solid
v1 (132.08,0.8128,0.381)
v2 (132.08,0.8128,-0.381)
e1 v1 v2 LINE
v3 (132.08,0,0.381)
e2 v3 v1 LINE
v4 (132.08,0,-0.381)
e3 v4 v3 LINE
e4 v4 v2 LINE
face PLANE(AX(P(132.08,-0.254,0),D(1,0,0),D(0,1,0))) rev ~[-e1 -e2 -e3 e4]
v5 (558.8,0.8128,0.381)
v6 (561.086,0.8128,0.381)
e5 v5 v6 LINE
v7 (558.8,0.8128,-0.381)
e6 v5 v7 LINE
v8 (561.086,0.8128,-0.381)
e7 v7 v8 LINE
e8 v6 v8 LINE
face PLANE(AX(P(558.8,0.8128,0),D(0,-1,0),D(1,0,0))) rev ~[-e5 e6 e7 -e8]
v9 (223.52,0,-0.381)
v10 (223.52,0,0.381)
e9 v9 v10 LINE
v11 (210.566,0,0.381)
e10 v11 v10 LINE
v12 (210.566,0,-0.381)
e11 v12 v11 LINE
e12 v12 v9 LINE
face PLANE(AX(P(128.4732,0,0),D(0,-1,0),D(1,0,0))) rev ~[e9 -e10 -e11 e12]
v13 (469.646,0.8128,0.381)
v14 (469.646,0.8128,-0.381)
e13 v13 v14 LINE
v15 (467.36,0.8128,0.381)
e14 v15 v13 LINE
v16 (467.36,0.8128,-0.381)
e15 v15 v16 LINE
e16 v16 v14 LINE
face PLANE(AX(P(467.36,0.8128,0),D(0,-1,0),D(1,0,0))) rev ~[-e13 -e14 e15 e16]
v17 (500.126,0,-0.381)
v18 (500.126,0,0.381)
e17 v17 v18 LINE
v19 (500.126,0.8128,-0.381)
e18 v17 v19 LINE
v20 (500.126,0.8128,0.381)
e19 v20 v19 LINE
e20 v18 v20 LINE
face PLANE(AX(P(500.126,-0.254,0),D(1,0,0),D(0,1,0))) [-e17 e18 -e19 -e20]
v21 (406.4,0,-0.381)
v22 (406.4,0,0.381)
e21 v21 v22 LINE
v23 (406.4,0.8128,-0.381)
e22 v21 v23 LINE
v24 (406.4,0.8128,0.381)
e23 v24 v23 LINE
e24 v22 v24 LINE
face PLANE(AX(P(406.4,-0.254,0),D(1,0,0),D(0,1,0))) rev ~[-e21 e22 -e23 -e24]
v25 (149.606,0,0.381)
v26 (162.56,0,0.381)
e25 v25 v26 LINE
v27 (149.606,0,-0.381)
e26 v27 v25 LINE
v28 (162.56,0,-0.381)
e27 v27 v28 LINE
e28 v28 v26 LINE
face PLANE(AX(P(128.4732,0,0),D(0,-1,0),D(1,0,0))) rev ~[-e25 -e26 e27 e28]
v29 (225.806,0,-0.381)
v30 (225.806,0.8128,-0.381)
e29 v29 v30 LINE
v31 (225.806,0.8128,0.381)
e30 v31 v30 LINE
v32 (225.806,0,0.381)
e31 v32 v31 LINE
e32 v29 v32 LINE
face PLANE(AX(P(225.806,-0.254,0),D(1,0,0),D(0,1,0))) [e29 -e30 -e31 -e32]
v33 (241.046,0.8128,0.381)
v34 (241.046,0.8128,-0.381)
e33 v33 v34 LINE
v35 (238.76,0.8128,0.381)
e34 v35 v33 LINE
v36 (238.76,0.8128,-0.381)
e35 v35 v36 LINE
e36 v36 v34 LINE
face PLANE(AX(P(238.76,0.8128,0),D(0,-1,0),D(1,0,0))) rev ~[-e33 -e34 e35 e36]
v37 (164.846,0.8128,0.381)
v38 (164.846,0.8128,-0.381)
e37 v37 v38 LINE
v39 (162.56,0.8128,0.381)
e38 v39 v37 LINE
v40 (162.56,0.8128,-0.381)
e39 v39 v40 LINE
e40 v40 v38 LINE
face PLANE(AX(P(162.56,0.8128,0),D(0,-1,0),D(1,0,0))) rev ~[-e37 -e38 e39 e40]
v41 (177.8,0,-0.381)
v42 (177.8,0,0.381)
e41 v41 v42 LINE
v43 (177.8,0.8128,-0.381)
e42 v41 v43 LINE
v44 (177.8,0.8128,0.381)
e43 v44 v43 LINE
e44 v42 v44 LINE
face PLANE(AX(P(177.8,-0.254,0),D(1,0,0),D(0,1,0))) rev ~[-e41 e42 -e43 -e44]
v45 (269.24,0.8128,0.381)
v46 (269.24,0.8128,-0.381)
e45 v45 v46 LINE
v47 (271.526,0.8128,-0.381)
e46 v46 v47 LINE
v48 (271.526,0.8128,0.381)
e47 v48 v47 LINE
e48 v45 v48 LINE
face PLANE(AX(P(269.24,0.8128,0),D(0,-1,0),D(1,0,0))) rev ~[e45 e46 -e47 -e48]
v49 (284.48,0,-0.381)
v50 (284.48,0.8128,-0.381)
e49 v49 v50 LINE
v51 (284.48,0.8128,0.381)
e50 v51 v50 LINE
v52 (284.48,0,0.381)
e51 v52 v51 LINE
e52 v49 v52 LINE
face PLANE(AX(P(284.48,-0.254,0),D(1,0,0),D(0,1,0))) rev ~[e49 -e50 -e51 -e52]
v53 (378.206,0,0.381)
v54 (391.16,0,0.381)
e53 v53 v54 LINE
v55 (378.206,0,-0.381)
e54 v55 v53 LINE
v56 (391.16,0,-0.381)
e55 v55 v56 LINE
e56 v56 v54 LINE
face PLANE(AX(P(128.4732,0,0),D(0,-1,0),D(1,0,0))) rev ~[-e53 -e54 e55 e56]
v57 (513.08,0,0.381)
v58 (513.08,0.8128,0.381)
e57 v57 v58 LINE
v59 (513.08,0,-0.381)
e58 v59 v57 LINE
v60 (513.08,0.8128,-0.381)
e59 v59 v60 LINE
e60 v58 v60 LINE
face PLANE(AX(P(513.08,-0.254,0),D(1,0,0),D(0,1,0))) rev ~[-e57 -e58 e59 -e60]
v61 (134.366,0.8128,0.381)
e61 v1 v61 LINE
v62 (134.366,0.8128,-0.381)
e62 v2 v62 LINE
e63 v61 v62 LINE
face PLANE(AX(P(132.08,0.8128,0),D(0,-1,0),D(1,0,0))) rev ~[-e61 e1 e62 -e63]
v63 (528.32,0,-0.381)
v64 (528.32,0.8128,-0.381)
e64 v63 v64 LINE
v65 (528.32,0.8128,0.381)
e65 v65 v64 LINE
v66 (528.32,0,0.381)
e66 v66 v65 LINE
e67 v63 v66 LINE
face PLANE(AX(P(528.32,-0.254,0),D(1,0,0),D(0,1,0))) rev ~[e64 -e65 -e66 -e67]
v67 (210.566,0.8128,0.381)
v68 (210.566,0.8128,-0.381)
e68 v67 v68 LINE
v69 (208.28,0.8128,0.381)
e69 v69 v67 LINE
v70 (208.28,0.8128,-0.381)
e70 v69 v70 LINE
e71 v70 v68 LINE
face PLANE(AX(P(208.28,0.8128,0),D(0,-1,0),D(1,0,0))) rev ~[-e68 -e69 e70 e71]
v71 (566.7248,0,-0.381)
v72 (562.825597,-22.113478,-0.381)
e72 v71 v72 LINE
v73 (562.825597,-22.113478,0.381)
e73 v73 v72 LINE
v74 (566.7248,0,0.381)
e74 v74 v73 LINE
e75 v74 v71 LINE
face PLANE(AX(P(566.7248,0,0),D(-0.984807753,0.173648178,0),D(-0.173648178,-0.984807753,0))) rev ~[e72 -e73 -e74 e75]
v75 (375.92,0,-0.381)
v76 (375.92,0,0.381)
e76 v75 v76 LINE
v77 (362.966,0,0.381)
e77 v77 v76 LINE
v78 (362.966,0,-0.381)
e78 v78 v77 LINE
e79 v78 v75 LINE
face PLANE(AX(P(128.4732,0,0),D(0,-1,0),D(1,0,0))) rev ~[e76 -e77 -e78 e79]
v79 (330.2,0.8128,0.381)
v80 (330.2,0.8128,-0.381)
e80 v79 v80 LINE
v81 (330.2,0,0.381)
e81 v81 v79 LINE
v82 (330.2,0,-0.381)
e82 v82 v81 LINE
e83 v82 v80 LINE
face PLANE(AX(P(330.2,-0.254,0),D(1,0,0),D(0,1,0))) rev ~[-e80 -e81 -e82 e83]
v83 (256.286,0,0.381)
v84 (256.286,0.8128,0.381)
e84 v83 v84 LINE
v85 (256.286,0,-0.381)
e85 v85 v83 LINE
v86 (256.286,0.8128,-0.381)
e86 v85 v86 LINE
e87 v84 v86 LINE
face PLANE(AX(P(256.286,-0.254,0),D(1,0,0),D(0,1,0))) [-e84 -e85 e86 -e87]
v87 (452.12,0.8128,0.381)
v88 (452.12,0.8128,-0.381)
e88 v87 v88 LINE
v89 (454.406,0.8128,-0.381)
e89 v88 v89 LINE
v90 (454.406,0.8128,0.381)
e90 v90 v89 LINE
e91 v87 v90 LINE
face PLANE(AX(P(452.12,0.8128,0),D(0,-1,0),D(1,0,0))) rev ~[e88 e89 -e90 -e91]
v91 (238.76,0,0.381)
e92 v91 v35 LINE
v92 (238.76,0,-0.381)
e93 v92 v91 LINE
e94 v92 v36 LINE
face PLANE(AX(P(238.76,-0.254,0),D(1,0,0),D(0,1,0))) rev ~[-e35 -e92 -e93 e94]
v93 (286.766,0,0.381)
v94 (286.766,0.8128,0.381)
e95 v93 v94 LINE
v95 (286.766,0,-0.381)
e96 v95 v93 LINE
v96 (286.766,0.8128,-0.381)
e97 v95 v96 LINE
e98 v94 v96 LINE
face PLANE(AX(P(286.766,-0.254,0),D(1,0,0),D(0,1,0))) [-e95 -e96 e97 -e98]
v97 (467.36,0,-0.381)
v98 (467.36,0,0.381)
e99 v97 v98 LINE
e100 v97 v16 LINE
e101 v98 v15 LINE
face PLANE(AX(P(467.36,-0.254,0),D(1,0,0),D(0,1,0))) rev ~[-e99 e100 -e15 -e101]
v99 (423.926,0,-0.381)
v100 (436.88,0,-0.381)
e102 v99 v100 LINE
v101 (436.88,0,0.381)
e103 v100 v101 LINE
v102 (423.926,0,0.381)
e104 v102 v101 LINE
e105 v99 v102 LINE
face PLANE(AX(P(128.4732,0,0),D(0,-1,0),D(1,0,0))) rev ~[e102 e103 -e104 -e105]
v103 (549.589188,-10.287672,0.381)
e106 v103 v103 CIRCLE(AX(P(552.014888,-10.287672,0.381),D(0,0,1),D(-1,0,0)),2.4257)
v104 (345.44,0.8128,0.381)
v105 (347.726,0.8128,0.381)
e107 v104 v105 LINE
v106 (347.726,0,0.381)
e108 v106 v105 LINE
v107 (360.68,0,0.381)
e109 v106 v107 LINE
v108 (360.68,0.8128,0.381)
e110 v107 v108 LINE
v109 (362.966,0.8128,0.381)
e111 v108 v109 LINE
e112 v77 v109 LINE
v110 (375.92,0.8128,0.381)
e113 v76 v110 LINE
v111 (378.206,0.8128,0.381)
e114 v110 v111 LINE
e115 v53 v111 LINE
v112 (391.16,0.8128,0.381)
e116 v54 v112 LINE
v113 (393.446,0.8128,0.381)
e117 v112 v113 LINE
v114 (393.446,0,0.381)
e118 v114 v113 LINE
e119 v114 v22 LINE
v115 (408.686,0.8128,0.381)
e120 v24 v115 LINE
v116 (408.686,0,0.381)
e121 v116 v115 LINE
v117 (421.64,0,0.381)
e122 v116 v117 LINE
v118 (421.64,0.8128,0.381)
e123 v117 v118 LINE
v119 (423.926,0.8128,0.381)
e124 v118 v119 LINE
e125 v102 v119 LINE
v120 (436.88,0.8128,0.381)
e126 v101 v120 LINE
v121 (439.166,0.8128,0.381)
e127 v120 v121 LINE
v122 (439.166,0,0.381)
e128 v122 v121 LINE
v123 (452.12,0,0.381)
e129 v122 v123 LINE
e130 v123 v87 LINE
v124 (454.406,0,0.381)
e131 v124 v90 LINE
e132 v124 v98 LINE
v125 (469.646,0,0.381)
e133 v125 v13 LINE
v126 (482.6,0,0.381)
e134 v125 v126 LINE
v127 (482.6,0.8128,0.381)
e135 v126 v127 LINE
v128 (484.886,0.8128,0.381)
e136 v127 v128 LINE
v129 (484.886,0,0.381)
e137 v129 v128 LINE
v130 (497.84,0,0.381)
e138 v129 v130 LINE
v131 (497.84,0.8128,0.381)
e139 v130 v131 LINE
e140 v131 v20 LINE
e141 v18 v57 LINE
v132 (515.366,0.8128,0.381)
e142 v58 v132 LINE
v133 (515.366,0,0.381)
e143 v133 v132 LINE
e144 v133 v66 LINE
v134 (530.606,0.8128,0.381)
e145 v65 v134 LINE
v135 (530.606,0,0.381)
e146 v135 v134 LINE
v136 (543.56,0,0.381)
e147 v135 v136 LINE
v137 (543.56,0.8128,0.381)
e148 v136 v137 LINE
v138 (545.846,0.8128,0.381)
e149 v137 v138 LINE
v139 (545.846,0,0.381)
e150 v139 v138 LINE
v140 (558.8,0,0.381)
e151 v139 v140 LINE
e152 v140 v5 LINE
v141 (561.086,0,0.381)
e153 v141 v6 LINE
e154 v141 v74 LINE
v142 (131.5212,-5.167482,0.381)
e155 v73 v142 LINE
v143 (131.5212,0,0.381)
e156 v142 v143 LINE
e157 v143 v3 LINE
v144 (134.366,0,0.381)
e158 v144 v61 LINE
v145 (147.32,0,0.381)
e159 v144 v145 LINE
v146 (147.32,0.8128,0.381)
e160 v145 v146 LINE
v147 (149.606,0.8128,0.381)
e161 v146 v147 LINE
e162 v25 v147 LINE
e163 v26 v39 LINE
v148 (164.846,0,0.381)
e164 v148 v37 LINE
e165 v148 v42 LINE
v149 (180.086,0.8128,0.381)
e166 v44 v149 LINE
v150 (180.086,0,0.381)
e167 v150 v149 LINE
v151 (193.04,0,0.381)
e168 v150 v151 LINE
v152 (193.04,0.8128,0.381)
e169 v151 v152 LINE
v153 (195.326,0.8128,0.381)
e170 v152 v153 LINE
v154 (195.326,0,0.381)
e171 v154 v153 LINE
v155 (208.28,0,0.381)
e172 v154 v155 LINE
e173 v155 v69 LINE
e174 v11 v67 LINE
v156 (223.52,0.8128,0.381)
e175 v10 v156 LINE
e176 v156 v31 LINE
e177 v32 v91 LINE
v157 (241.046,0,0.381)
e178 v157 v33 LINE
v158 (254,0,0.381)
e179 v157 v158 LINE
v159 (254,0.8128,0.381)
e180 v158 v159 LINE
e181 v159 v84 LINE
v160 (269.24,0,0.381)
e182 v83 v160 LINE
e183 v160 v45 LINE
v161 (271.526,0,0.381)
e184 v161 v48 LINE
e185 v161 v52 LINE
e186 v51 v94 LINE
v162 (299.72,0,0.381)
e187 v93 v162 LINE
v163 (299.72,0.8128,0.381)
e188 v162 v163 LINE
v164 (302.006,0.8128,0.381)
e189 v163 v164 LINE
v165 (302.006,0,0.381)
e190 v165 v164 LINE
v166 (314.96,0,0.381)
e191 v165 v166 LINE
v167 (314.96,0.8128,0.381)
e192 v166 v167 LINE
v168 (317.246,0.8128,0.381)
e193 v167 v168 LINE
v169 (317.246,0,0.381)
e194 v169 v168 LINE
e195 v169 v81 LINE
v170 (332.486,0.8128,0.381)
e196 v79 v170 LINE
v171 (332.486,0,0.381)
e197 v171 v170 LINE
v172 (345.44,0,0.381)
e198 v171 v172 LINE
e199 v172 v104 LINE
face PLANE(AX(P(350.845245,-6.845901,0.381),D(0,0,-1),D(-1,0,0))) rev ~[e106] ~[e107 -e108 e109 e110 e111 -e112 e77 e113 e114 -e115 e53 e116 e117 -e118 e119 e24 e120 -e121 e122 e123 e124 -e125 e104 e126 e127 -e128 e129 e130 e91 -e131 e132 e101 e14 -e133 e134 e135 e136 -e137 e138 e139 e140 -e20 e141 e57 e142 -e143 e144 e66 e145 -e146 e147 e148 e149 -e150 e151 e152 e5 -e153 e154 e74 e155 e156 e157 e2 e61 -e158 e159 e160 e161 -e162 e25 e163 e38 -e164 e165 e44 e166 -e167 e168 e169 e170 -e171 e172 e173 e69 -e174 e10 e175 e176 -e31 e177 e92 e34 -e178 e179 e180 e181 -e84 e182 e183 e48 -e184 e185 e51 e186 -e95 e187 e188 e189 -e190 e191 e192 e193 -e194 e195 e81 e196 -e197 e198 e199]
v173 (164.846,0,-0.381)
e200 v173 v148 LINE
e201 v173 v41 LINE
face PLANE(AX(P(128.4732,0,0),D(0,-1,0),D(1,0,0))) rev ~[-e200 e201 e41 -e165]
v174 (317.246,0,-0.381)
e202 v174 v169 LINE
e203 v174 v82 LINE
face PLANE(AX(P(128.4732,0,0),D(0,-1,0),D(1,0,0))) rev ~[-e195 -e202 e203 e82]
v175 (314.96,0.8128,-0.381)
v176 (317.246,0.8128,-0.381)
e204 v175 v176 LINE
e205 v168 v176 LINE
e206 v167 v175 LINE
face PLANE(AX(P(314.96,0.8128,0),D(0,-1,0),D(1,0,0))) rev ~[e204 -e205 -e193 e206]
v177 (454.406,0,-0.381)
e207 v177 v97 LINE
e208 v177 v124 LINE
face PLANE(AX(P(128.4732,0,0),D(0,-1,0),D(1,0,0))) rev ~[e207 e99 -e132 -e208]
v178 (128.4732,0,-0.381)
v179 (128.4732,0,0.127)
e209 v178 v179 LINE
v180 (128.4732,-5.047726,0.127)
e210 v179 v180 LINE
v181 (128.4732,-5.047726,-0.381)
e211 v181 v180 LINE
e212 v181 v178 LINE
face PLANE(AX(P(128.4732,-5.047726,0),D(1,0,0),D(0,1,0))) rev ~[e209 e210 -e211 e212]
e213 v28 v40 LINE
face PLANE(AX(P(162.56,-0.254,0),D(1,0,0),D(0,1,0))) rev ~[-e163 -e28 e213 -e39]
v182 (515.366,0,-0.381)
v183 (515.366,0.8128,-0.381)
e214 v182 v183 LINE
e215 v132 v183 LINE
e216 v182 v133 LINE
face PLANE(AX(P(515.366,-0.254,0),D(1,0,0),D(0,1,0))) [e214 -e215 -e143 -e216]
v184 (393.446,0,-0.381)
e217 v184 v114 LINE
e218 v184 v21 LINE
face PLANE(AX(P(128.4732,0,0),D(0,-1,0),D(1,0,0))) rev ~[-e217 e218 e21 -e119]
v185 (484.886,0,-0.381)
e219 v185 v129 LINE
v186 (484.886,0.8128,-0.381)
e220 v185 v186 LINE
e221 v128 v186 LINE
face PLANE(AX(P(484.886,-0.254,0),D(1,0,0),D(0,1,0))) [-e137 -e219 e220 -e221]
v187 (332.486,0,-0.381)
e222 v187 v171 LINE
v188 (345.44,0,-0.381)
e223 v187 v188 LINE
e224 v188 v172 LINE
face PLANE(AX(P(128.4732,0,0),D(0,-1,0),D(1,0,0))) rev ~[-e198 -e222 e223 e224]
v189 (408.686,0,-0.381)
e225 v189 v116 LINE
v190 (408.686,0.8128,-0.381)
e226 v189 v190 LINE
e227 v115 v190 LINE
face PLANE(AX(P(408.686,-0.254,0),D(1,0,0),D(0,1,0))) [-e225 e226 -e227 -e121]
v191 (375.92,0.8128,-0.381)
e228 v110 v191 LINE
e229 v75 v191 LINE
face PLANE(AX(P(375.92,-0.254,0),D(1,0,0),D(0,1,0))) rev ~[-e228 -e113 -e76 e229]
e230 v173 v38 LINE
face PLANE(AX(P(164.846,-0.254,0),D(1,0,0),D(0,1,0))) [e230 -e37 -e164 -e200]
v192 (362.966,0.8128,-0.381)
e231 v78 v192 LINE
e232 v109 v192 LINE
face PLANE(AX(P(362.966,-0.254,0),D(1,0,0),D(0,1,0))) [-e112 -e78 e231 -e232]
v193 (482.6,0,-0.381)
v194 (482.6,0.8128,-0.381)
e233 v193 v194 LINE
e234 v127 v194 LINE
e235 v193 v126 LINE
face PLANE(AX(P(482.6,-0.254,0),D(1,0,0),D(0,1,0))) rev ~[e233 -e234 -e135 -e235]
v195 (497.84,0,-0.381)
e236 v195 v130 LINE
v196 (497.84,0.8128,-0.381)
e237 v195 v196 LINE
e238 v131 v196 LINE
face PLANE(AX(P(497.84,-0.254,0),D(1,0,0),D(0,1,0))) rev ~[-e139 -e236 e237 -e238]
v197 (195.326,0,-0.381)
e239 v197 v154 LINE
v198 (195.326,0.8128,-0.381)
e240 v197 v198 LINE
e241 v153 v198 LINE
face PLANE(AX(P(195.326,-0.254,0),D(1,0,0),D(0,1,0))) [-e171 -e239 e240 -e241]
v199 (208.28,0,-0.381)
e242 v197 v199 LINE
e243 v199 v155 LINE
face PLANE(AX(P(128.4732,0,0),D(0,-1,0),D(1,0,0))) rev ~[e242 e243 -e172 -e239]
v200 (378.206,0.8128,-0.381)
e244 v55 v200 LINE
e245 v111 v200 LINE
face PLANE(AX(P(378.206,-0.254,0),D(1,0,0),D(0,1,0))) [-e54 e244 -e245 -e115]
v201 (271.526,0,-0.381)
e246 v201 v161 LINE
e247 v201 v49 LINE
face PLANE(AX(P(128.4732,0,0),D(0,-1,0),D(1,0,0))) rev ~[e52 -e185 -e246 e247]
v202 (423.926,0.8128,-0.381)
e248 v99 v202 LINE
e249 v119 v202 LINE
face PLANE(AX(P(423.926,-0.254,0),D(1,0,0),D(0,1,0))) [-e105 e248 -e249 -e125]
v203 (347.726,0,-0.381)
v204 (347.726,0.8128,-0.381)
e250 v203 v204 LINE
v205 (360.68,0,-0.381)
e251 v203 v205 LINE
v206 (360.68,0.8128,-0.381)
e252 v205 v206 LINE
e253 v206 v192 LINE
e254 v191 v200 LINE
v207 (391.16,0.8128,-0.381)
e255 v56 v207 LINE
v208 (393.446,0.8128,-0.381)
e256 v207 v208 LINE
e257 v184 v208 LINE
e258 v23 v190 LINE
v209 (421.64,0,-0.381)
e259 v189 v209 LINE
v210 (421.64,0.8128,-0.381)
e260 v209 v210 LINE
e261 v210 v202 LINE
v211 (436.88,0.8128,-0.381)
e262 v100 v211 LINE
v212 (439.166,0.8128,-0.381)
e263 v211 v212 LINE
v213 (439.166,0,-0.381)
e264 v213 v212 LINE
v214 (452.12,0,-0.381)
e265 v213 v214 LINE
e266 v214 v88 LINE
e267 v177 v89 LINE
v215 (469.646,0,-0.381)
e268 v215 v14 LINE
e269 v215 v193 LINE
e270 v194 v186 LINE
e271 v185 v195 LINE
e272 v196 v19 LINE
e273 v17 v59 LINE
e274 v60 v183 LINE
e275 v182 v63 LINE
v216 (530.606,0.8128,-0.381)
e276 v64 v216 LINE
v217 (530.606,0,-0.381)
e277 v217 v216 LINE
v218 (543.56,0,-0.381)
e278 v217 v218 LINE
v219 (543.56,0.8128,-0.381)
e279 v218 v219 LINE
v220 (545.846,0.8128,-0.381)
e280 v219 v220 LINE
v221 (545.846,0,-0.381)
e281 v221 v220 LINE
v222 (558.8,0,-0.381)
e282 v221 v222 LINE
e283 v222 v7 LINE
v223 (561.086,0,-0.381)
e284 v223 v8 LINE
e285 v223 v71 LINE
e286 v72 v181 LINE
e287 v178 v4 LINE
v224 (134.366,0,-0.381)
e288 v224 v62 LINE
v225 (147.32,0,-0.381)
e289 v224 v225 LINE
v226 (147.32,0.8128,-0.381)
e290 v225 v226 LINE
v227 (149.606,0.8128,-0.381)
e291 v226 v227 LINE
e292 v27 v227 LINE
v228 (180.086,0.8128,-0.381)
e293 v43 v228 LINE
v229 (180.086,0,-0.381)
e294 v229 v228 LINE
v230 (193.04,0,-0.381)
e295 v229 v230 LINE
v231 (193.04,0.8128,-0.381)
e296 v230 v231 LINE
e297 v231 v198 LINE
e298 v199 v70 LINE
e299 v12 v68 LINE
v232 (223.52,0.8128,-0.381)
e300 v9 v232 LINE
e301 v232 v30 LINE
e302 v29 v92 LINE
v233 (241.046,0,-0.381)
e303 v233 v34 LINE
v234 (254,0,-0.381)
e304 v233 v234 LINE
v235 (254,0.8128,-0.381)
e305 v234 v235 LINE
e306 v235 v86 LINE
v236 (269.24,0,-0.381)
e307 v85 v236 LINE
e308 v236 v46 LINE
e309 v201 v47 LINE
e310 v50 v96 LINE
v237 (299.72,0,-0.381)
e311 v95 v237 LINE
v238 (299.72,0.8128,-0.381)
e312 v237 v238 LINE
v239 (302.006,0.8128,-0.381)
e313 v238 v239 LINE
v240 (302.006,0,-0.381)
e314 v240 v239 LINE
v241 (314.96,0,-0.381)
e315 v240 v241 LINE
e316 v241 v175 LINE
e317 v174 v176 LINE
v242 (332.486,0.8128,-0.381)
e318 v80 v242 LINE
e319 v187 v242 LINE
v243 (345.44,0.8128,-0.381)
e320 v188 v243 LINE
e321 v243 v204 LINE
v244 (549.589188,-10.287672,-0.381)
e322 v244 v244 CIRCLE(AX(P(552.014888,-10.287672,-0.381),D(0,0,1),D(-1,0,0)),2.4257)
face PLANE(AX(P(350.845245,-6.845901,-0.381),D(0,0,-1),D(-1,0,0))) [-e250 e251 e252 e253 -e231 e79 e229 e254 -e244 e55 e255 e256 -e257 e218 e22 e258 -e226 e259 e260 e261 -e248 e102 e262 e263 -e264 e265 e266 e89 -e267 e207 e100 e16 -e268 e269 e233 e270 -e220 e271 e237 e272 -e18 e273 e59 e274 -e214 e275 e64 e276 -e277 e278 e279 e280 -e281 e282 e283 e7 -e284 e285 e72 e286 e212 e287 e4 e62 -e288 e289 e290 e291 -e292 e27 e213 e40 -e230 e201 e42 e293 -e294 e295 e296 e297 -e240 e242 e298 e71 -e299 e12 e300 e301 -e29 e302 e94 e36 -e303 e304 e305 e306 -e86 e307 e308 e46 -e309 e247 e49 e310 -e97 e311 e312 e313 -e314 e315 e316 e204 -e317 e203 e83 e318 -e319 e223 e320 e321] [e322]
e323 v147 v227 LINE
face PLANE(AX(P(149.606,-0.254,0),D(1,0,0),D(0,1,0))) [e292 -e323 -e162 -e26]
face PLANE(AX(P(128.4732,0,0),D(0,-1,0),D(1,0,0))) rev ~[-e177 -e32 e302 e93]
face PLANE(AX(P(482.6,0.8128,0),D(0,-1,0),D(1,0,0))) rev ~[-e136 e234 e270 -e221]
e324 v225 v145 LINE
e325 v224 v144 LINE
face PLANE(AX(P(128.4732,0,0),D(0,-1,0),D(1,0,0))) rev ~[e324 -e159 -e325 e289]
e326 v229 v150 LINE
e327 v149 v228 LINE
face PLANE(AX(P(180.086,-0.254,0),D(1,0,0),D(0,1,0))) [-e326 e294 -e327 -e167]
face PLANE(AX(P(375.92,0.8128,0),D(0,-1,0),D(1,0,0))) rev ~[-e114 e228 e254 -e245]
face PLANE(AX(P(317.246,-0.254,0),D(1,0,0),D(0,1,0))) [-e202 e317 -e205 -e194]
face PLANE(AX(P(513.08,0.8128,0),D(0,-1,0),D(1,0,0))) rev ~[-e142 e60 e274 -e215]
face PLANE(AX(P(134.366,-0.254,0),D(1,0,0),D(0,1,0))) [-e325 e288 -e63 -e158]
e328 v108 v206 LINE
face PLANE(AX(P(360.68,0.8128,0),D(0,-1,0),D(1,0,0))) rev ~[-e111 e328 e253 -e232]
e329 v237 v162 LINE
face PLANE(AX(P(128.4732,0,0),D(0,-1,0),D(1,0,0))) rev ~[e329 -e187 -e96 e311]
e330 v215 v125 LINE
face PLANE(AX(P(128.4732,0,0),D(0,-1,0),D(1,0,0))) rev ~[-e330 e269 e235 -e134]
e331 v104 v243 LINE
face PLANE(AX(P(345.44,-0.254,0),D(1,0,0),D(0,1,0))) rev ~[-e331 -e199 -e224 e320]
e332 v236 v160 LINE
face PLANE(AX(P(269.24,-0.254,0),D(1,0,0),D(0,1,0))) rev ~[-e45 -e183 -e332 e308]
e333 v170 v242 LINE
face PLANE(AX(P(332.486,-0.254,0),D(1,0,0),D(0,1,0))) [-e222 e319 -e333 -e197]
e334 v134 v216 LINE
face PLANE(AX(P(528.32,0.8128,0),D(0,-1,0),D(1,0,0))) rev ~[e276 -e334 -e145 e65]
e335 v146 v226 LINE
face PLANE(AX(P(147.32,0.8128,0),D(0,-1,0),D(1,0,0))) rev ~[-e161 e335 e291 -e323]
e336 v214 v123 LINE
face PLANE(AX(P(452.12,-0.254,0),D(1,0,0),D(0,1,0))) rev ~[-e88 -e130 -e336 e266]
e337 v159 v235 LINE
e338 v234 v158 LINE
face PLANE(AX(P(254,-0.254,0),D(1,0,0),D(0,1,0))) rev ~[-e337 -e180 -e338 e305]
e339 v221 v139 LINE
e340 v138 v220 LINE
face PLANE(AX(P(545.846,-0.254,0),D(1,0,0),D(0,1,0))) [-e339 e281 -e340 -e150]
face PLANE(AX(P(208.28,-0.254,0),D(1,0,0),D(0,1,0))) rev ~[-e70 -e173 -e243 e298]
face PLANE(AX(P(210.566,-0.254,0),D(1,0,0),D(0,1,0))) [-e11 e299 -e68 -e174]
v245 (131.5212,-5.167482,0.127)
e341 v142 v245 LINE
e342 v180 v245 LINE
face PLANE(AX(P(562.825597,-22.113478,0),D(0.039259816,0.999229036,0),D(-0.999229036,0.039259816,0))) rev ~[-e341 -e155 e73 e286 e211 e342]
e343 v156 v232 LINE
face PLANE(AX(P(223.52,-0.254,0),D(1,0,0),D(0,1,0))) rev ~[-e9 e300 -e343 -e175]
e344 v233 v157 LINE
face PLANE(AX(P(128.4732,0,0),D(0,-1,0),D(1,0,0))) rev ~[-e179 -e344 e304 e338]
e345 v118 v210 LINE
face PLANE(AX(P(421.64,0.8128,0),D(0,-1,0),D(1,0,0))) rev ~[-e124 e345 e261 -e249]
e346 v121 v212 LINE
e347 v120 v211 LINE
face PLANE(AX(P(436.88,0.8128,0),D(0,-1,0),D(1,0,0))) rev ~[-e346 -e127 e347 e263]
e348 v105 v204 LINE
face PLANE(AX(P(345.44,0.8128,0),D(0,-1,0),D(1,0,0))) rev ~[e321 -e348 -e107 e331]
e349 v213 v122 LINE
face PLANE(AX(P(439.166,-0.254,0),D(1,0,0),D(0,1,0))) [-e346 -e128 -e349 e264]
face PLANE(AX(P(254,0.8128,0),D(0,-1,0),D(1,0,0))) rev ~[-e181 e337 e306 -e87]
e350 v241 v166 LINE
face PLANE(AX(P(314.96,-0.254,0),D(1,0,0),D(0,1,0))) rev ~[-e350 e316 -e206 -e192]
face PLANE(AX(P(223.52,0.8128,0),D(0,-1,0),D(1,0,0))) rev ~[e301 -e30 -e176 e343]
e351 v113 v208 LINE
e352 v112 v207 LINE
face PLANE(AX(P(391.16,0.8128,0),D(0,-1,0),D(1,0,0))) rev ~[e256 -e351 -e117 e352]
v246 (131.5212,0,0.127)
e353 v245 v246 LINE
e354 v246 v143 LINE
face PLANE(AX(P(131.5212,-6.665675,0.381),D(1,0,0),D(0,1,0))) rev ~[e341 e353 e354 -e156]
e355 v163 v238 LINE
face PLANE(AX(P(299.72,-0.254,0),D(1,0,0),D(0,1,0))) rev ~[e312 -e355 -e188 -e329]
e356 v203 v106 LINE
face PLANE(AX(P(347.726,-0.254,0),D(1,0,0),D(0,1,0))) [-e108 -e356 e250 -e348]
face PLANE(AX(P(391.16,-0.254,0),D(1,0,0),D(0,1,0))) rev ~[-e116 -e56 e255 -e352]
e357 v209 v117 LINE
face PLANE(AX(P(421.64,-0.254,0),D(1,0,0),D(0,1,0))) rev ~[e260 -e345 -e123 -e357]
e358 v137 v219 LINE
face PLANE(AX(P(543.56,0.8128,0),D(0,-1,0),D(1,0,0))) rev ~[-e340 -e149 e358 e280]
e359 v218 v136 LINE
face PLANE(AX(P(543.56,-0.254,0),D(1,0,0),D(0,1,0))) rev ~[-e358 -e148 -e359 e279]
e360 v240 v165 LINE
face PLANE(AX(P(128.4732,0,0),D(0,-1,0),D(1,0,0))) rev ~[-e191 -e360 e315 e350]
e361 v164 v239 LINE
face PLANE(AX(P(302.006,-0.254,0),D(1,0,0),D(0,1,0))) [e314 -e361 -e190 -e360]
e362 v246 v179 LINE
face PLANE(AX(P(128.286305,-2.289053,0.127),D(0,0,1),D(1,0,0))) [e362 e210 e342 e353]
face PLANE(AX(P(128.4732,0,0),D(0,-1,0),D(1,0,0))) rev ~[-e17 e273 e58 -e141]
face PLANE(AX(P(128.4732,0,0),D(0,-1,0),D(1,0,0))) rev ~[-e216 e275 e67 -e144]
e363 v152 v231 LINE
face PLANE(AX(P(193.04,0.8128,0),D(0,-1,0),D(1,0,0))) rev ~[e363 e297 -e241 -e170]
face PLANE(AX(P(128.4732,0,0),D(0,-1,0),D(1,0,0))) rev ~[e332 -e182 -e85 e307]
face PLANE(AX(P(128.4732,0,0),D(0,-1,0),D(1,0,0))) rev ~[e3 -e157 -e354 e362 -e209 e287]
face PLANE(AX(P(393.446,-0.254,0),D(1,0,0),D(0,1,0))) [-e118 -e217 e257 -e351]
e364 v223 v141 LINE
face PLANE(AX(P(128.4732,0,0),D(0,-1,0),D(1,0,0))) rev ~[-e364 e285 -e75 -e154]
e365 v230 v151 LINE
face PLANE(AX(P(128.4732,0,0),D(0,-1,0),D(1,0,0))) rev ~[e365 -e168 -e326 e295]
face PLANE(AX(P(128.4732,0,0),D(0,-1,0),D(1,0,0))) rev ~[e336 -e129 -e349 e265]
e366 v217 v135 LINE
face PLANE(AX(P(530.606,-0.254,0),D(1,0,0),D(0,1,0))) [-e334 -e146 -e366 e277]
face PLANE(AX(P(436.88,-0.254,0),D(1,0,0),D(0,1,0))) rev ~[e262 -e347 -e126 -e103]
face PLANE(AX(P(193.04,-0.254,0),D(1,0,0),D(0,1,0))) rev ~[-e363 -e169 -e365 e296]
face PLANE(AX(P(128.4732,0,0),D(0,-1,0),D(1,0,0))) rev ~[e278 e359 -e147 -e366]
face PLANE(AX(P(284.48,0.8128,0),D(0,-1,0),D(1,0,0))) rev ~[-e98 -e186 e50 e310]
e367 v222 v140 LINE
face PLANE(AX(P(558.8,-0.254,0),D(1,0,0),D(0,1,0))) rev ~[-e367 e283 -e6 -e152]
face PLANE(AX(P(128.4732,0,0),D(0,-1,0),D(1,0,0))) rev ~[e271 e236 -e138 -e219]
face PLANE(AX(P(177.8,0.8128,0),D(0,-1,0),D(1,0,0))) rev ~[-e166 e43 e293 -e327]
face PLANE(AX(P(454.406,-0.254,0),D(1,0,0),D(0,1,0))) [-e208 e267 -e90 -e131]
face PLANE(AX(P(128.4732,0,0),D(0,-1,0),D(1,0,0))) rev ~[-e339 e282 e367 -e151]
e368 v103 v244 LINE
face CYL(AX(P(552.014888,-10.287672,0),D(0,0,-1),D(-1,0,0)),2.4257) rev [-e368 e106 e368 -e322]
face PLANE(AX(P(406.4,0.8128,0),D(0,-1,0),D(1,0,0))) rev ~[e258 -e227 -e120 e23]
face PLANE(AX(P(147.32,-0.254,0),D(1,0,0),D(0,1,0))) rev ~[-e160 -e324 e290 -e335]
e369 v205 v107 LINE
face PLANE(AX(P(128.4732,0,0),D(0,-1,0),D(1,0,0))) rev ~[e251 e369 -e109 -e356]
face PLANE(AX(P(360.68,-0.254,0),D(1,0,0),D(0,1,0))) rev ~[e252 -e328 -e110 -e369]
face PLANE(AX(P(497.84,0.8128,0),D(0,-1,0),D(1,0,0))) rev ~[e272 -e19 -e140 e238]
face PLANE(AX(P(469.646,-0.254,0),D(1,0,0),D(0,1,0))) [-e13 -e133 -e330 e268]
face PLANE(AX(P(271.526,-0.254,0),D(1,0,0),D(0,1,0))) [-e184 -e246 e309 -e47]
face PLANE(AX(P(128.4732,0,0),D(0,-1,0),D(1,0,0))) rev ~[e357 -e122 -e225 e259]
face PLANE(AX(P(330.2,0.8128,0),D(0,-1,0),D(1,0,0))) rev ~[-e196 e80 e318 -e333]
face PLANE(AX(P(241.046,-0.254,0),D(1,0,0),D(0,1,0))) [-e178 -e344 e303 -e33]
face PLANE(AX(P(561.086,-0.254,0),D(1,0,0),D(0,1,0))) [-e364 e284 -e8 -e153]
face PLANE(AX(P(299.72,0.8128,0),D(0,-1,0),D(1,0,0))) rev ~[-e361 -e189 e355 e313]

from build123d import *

# Parameters (mm, degrees)
SKETCH1_R                      = 2.4257
EXTRUDE1_DEPTH                 = 0.381
SKETCH2_W                      = 2.286
SKETCH2_H                      = 1.0668
EB_02_TAB_1_DEPTH              = 0.381
LP_01_TAB_1_X_29_X_0_600_COUNT = 29
LP_01_TAB_1_X_29_X_0_600_PITCH = 15.24
SKETCH5_W                      = 6.469789446
SKETCH5_H                      = 8.753244544
EXTRUDE5_DEPTH                 = 0.254


with BuildPart() as part:
    # Sketch1 → Extrude1 (new, symmetric)
    with BuildSketch(Plane.XY):
        Polygon((128.4732, 0), (566.7248, 0), (562.825597202, -22.113477941), (128.4732, -5.047725776), align=None)
        with Locations((552.014887855, -10.287672178)):
            Circle(SKETCH1_R, mode=Mode.SUBTRACT)
    extrude(amount=EXTRUDE1_DEPTH, both=True)

    # Sketch2 → EB-02 Tab 1 (add, symmetric)
    with BuildSketch(Plane.XY):
        with Locations((133.223, 0.2794)):
            Rectangle(SKETCH2_W, SKETCH2_H)
    eb_02_tab_1 = extrude(amount=EB_02_TAB_1_DEPTH, both=True)

    # LP-01 Tab 1 x 29 x 0.600: EB-02 Tab 1 ×29
    with Locations(*[(i * LP_01_TAB_1_X_29_X_0_600_PITCH, 0, 0) for i in range(1, LP_01_TAB_1_X_29_X_0_600_COUNT)]):
        add(eb_02_tab_1)

    # Sketch5 → Extrude5 (cut)
    with BuildSketch(Plane.XY.offset(0.381)):
        with Locations((128.286305277, -2.289052867)):
            Rectangle(SKETCH5_W, SKETCH5_H)
    extrude(amount=-EXTRUDE5_DEPTH, mode=Mode.SUBTRACT)


solid = part.part
